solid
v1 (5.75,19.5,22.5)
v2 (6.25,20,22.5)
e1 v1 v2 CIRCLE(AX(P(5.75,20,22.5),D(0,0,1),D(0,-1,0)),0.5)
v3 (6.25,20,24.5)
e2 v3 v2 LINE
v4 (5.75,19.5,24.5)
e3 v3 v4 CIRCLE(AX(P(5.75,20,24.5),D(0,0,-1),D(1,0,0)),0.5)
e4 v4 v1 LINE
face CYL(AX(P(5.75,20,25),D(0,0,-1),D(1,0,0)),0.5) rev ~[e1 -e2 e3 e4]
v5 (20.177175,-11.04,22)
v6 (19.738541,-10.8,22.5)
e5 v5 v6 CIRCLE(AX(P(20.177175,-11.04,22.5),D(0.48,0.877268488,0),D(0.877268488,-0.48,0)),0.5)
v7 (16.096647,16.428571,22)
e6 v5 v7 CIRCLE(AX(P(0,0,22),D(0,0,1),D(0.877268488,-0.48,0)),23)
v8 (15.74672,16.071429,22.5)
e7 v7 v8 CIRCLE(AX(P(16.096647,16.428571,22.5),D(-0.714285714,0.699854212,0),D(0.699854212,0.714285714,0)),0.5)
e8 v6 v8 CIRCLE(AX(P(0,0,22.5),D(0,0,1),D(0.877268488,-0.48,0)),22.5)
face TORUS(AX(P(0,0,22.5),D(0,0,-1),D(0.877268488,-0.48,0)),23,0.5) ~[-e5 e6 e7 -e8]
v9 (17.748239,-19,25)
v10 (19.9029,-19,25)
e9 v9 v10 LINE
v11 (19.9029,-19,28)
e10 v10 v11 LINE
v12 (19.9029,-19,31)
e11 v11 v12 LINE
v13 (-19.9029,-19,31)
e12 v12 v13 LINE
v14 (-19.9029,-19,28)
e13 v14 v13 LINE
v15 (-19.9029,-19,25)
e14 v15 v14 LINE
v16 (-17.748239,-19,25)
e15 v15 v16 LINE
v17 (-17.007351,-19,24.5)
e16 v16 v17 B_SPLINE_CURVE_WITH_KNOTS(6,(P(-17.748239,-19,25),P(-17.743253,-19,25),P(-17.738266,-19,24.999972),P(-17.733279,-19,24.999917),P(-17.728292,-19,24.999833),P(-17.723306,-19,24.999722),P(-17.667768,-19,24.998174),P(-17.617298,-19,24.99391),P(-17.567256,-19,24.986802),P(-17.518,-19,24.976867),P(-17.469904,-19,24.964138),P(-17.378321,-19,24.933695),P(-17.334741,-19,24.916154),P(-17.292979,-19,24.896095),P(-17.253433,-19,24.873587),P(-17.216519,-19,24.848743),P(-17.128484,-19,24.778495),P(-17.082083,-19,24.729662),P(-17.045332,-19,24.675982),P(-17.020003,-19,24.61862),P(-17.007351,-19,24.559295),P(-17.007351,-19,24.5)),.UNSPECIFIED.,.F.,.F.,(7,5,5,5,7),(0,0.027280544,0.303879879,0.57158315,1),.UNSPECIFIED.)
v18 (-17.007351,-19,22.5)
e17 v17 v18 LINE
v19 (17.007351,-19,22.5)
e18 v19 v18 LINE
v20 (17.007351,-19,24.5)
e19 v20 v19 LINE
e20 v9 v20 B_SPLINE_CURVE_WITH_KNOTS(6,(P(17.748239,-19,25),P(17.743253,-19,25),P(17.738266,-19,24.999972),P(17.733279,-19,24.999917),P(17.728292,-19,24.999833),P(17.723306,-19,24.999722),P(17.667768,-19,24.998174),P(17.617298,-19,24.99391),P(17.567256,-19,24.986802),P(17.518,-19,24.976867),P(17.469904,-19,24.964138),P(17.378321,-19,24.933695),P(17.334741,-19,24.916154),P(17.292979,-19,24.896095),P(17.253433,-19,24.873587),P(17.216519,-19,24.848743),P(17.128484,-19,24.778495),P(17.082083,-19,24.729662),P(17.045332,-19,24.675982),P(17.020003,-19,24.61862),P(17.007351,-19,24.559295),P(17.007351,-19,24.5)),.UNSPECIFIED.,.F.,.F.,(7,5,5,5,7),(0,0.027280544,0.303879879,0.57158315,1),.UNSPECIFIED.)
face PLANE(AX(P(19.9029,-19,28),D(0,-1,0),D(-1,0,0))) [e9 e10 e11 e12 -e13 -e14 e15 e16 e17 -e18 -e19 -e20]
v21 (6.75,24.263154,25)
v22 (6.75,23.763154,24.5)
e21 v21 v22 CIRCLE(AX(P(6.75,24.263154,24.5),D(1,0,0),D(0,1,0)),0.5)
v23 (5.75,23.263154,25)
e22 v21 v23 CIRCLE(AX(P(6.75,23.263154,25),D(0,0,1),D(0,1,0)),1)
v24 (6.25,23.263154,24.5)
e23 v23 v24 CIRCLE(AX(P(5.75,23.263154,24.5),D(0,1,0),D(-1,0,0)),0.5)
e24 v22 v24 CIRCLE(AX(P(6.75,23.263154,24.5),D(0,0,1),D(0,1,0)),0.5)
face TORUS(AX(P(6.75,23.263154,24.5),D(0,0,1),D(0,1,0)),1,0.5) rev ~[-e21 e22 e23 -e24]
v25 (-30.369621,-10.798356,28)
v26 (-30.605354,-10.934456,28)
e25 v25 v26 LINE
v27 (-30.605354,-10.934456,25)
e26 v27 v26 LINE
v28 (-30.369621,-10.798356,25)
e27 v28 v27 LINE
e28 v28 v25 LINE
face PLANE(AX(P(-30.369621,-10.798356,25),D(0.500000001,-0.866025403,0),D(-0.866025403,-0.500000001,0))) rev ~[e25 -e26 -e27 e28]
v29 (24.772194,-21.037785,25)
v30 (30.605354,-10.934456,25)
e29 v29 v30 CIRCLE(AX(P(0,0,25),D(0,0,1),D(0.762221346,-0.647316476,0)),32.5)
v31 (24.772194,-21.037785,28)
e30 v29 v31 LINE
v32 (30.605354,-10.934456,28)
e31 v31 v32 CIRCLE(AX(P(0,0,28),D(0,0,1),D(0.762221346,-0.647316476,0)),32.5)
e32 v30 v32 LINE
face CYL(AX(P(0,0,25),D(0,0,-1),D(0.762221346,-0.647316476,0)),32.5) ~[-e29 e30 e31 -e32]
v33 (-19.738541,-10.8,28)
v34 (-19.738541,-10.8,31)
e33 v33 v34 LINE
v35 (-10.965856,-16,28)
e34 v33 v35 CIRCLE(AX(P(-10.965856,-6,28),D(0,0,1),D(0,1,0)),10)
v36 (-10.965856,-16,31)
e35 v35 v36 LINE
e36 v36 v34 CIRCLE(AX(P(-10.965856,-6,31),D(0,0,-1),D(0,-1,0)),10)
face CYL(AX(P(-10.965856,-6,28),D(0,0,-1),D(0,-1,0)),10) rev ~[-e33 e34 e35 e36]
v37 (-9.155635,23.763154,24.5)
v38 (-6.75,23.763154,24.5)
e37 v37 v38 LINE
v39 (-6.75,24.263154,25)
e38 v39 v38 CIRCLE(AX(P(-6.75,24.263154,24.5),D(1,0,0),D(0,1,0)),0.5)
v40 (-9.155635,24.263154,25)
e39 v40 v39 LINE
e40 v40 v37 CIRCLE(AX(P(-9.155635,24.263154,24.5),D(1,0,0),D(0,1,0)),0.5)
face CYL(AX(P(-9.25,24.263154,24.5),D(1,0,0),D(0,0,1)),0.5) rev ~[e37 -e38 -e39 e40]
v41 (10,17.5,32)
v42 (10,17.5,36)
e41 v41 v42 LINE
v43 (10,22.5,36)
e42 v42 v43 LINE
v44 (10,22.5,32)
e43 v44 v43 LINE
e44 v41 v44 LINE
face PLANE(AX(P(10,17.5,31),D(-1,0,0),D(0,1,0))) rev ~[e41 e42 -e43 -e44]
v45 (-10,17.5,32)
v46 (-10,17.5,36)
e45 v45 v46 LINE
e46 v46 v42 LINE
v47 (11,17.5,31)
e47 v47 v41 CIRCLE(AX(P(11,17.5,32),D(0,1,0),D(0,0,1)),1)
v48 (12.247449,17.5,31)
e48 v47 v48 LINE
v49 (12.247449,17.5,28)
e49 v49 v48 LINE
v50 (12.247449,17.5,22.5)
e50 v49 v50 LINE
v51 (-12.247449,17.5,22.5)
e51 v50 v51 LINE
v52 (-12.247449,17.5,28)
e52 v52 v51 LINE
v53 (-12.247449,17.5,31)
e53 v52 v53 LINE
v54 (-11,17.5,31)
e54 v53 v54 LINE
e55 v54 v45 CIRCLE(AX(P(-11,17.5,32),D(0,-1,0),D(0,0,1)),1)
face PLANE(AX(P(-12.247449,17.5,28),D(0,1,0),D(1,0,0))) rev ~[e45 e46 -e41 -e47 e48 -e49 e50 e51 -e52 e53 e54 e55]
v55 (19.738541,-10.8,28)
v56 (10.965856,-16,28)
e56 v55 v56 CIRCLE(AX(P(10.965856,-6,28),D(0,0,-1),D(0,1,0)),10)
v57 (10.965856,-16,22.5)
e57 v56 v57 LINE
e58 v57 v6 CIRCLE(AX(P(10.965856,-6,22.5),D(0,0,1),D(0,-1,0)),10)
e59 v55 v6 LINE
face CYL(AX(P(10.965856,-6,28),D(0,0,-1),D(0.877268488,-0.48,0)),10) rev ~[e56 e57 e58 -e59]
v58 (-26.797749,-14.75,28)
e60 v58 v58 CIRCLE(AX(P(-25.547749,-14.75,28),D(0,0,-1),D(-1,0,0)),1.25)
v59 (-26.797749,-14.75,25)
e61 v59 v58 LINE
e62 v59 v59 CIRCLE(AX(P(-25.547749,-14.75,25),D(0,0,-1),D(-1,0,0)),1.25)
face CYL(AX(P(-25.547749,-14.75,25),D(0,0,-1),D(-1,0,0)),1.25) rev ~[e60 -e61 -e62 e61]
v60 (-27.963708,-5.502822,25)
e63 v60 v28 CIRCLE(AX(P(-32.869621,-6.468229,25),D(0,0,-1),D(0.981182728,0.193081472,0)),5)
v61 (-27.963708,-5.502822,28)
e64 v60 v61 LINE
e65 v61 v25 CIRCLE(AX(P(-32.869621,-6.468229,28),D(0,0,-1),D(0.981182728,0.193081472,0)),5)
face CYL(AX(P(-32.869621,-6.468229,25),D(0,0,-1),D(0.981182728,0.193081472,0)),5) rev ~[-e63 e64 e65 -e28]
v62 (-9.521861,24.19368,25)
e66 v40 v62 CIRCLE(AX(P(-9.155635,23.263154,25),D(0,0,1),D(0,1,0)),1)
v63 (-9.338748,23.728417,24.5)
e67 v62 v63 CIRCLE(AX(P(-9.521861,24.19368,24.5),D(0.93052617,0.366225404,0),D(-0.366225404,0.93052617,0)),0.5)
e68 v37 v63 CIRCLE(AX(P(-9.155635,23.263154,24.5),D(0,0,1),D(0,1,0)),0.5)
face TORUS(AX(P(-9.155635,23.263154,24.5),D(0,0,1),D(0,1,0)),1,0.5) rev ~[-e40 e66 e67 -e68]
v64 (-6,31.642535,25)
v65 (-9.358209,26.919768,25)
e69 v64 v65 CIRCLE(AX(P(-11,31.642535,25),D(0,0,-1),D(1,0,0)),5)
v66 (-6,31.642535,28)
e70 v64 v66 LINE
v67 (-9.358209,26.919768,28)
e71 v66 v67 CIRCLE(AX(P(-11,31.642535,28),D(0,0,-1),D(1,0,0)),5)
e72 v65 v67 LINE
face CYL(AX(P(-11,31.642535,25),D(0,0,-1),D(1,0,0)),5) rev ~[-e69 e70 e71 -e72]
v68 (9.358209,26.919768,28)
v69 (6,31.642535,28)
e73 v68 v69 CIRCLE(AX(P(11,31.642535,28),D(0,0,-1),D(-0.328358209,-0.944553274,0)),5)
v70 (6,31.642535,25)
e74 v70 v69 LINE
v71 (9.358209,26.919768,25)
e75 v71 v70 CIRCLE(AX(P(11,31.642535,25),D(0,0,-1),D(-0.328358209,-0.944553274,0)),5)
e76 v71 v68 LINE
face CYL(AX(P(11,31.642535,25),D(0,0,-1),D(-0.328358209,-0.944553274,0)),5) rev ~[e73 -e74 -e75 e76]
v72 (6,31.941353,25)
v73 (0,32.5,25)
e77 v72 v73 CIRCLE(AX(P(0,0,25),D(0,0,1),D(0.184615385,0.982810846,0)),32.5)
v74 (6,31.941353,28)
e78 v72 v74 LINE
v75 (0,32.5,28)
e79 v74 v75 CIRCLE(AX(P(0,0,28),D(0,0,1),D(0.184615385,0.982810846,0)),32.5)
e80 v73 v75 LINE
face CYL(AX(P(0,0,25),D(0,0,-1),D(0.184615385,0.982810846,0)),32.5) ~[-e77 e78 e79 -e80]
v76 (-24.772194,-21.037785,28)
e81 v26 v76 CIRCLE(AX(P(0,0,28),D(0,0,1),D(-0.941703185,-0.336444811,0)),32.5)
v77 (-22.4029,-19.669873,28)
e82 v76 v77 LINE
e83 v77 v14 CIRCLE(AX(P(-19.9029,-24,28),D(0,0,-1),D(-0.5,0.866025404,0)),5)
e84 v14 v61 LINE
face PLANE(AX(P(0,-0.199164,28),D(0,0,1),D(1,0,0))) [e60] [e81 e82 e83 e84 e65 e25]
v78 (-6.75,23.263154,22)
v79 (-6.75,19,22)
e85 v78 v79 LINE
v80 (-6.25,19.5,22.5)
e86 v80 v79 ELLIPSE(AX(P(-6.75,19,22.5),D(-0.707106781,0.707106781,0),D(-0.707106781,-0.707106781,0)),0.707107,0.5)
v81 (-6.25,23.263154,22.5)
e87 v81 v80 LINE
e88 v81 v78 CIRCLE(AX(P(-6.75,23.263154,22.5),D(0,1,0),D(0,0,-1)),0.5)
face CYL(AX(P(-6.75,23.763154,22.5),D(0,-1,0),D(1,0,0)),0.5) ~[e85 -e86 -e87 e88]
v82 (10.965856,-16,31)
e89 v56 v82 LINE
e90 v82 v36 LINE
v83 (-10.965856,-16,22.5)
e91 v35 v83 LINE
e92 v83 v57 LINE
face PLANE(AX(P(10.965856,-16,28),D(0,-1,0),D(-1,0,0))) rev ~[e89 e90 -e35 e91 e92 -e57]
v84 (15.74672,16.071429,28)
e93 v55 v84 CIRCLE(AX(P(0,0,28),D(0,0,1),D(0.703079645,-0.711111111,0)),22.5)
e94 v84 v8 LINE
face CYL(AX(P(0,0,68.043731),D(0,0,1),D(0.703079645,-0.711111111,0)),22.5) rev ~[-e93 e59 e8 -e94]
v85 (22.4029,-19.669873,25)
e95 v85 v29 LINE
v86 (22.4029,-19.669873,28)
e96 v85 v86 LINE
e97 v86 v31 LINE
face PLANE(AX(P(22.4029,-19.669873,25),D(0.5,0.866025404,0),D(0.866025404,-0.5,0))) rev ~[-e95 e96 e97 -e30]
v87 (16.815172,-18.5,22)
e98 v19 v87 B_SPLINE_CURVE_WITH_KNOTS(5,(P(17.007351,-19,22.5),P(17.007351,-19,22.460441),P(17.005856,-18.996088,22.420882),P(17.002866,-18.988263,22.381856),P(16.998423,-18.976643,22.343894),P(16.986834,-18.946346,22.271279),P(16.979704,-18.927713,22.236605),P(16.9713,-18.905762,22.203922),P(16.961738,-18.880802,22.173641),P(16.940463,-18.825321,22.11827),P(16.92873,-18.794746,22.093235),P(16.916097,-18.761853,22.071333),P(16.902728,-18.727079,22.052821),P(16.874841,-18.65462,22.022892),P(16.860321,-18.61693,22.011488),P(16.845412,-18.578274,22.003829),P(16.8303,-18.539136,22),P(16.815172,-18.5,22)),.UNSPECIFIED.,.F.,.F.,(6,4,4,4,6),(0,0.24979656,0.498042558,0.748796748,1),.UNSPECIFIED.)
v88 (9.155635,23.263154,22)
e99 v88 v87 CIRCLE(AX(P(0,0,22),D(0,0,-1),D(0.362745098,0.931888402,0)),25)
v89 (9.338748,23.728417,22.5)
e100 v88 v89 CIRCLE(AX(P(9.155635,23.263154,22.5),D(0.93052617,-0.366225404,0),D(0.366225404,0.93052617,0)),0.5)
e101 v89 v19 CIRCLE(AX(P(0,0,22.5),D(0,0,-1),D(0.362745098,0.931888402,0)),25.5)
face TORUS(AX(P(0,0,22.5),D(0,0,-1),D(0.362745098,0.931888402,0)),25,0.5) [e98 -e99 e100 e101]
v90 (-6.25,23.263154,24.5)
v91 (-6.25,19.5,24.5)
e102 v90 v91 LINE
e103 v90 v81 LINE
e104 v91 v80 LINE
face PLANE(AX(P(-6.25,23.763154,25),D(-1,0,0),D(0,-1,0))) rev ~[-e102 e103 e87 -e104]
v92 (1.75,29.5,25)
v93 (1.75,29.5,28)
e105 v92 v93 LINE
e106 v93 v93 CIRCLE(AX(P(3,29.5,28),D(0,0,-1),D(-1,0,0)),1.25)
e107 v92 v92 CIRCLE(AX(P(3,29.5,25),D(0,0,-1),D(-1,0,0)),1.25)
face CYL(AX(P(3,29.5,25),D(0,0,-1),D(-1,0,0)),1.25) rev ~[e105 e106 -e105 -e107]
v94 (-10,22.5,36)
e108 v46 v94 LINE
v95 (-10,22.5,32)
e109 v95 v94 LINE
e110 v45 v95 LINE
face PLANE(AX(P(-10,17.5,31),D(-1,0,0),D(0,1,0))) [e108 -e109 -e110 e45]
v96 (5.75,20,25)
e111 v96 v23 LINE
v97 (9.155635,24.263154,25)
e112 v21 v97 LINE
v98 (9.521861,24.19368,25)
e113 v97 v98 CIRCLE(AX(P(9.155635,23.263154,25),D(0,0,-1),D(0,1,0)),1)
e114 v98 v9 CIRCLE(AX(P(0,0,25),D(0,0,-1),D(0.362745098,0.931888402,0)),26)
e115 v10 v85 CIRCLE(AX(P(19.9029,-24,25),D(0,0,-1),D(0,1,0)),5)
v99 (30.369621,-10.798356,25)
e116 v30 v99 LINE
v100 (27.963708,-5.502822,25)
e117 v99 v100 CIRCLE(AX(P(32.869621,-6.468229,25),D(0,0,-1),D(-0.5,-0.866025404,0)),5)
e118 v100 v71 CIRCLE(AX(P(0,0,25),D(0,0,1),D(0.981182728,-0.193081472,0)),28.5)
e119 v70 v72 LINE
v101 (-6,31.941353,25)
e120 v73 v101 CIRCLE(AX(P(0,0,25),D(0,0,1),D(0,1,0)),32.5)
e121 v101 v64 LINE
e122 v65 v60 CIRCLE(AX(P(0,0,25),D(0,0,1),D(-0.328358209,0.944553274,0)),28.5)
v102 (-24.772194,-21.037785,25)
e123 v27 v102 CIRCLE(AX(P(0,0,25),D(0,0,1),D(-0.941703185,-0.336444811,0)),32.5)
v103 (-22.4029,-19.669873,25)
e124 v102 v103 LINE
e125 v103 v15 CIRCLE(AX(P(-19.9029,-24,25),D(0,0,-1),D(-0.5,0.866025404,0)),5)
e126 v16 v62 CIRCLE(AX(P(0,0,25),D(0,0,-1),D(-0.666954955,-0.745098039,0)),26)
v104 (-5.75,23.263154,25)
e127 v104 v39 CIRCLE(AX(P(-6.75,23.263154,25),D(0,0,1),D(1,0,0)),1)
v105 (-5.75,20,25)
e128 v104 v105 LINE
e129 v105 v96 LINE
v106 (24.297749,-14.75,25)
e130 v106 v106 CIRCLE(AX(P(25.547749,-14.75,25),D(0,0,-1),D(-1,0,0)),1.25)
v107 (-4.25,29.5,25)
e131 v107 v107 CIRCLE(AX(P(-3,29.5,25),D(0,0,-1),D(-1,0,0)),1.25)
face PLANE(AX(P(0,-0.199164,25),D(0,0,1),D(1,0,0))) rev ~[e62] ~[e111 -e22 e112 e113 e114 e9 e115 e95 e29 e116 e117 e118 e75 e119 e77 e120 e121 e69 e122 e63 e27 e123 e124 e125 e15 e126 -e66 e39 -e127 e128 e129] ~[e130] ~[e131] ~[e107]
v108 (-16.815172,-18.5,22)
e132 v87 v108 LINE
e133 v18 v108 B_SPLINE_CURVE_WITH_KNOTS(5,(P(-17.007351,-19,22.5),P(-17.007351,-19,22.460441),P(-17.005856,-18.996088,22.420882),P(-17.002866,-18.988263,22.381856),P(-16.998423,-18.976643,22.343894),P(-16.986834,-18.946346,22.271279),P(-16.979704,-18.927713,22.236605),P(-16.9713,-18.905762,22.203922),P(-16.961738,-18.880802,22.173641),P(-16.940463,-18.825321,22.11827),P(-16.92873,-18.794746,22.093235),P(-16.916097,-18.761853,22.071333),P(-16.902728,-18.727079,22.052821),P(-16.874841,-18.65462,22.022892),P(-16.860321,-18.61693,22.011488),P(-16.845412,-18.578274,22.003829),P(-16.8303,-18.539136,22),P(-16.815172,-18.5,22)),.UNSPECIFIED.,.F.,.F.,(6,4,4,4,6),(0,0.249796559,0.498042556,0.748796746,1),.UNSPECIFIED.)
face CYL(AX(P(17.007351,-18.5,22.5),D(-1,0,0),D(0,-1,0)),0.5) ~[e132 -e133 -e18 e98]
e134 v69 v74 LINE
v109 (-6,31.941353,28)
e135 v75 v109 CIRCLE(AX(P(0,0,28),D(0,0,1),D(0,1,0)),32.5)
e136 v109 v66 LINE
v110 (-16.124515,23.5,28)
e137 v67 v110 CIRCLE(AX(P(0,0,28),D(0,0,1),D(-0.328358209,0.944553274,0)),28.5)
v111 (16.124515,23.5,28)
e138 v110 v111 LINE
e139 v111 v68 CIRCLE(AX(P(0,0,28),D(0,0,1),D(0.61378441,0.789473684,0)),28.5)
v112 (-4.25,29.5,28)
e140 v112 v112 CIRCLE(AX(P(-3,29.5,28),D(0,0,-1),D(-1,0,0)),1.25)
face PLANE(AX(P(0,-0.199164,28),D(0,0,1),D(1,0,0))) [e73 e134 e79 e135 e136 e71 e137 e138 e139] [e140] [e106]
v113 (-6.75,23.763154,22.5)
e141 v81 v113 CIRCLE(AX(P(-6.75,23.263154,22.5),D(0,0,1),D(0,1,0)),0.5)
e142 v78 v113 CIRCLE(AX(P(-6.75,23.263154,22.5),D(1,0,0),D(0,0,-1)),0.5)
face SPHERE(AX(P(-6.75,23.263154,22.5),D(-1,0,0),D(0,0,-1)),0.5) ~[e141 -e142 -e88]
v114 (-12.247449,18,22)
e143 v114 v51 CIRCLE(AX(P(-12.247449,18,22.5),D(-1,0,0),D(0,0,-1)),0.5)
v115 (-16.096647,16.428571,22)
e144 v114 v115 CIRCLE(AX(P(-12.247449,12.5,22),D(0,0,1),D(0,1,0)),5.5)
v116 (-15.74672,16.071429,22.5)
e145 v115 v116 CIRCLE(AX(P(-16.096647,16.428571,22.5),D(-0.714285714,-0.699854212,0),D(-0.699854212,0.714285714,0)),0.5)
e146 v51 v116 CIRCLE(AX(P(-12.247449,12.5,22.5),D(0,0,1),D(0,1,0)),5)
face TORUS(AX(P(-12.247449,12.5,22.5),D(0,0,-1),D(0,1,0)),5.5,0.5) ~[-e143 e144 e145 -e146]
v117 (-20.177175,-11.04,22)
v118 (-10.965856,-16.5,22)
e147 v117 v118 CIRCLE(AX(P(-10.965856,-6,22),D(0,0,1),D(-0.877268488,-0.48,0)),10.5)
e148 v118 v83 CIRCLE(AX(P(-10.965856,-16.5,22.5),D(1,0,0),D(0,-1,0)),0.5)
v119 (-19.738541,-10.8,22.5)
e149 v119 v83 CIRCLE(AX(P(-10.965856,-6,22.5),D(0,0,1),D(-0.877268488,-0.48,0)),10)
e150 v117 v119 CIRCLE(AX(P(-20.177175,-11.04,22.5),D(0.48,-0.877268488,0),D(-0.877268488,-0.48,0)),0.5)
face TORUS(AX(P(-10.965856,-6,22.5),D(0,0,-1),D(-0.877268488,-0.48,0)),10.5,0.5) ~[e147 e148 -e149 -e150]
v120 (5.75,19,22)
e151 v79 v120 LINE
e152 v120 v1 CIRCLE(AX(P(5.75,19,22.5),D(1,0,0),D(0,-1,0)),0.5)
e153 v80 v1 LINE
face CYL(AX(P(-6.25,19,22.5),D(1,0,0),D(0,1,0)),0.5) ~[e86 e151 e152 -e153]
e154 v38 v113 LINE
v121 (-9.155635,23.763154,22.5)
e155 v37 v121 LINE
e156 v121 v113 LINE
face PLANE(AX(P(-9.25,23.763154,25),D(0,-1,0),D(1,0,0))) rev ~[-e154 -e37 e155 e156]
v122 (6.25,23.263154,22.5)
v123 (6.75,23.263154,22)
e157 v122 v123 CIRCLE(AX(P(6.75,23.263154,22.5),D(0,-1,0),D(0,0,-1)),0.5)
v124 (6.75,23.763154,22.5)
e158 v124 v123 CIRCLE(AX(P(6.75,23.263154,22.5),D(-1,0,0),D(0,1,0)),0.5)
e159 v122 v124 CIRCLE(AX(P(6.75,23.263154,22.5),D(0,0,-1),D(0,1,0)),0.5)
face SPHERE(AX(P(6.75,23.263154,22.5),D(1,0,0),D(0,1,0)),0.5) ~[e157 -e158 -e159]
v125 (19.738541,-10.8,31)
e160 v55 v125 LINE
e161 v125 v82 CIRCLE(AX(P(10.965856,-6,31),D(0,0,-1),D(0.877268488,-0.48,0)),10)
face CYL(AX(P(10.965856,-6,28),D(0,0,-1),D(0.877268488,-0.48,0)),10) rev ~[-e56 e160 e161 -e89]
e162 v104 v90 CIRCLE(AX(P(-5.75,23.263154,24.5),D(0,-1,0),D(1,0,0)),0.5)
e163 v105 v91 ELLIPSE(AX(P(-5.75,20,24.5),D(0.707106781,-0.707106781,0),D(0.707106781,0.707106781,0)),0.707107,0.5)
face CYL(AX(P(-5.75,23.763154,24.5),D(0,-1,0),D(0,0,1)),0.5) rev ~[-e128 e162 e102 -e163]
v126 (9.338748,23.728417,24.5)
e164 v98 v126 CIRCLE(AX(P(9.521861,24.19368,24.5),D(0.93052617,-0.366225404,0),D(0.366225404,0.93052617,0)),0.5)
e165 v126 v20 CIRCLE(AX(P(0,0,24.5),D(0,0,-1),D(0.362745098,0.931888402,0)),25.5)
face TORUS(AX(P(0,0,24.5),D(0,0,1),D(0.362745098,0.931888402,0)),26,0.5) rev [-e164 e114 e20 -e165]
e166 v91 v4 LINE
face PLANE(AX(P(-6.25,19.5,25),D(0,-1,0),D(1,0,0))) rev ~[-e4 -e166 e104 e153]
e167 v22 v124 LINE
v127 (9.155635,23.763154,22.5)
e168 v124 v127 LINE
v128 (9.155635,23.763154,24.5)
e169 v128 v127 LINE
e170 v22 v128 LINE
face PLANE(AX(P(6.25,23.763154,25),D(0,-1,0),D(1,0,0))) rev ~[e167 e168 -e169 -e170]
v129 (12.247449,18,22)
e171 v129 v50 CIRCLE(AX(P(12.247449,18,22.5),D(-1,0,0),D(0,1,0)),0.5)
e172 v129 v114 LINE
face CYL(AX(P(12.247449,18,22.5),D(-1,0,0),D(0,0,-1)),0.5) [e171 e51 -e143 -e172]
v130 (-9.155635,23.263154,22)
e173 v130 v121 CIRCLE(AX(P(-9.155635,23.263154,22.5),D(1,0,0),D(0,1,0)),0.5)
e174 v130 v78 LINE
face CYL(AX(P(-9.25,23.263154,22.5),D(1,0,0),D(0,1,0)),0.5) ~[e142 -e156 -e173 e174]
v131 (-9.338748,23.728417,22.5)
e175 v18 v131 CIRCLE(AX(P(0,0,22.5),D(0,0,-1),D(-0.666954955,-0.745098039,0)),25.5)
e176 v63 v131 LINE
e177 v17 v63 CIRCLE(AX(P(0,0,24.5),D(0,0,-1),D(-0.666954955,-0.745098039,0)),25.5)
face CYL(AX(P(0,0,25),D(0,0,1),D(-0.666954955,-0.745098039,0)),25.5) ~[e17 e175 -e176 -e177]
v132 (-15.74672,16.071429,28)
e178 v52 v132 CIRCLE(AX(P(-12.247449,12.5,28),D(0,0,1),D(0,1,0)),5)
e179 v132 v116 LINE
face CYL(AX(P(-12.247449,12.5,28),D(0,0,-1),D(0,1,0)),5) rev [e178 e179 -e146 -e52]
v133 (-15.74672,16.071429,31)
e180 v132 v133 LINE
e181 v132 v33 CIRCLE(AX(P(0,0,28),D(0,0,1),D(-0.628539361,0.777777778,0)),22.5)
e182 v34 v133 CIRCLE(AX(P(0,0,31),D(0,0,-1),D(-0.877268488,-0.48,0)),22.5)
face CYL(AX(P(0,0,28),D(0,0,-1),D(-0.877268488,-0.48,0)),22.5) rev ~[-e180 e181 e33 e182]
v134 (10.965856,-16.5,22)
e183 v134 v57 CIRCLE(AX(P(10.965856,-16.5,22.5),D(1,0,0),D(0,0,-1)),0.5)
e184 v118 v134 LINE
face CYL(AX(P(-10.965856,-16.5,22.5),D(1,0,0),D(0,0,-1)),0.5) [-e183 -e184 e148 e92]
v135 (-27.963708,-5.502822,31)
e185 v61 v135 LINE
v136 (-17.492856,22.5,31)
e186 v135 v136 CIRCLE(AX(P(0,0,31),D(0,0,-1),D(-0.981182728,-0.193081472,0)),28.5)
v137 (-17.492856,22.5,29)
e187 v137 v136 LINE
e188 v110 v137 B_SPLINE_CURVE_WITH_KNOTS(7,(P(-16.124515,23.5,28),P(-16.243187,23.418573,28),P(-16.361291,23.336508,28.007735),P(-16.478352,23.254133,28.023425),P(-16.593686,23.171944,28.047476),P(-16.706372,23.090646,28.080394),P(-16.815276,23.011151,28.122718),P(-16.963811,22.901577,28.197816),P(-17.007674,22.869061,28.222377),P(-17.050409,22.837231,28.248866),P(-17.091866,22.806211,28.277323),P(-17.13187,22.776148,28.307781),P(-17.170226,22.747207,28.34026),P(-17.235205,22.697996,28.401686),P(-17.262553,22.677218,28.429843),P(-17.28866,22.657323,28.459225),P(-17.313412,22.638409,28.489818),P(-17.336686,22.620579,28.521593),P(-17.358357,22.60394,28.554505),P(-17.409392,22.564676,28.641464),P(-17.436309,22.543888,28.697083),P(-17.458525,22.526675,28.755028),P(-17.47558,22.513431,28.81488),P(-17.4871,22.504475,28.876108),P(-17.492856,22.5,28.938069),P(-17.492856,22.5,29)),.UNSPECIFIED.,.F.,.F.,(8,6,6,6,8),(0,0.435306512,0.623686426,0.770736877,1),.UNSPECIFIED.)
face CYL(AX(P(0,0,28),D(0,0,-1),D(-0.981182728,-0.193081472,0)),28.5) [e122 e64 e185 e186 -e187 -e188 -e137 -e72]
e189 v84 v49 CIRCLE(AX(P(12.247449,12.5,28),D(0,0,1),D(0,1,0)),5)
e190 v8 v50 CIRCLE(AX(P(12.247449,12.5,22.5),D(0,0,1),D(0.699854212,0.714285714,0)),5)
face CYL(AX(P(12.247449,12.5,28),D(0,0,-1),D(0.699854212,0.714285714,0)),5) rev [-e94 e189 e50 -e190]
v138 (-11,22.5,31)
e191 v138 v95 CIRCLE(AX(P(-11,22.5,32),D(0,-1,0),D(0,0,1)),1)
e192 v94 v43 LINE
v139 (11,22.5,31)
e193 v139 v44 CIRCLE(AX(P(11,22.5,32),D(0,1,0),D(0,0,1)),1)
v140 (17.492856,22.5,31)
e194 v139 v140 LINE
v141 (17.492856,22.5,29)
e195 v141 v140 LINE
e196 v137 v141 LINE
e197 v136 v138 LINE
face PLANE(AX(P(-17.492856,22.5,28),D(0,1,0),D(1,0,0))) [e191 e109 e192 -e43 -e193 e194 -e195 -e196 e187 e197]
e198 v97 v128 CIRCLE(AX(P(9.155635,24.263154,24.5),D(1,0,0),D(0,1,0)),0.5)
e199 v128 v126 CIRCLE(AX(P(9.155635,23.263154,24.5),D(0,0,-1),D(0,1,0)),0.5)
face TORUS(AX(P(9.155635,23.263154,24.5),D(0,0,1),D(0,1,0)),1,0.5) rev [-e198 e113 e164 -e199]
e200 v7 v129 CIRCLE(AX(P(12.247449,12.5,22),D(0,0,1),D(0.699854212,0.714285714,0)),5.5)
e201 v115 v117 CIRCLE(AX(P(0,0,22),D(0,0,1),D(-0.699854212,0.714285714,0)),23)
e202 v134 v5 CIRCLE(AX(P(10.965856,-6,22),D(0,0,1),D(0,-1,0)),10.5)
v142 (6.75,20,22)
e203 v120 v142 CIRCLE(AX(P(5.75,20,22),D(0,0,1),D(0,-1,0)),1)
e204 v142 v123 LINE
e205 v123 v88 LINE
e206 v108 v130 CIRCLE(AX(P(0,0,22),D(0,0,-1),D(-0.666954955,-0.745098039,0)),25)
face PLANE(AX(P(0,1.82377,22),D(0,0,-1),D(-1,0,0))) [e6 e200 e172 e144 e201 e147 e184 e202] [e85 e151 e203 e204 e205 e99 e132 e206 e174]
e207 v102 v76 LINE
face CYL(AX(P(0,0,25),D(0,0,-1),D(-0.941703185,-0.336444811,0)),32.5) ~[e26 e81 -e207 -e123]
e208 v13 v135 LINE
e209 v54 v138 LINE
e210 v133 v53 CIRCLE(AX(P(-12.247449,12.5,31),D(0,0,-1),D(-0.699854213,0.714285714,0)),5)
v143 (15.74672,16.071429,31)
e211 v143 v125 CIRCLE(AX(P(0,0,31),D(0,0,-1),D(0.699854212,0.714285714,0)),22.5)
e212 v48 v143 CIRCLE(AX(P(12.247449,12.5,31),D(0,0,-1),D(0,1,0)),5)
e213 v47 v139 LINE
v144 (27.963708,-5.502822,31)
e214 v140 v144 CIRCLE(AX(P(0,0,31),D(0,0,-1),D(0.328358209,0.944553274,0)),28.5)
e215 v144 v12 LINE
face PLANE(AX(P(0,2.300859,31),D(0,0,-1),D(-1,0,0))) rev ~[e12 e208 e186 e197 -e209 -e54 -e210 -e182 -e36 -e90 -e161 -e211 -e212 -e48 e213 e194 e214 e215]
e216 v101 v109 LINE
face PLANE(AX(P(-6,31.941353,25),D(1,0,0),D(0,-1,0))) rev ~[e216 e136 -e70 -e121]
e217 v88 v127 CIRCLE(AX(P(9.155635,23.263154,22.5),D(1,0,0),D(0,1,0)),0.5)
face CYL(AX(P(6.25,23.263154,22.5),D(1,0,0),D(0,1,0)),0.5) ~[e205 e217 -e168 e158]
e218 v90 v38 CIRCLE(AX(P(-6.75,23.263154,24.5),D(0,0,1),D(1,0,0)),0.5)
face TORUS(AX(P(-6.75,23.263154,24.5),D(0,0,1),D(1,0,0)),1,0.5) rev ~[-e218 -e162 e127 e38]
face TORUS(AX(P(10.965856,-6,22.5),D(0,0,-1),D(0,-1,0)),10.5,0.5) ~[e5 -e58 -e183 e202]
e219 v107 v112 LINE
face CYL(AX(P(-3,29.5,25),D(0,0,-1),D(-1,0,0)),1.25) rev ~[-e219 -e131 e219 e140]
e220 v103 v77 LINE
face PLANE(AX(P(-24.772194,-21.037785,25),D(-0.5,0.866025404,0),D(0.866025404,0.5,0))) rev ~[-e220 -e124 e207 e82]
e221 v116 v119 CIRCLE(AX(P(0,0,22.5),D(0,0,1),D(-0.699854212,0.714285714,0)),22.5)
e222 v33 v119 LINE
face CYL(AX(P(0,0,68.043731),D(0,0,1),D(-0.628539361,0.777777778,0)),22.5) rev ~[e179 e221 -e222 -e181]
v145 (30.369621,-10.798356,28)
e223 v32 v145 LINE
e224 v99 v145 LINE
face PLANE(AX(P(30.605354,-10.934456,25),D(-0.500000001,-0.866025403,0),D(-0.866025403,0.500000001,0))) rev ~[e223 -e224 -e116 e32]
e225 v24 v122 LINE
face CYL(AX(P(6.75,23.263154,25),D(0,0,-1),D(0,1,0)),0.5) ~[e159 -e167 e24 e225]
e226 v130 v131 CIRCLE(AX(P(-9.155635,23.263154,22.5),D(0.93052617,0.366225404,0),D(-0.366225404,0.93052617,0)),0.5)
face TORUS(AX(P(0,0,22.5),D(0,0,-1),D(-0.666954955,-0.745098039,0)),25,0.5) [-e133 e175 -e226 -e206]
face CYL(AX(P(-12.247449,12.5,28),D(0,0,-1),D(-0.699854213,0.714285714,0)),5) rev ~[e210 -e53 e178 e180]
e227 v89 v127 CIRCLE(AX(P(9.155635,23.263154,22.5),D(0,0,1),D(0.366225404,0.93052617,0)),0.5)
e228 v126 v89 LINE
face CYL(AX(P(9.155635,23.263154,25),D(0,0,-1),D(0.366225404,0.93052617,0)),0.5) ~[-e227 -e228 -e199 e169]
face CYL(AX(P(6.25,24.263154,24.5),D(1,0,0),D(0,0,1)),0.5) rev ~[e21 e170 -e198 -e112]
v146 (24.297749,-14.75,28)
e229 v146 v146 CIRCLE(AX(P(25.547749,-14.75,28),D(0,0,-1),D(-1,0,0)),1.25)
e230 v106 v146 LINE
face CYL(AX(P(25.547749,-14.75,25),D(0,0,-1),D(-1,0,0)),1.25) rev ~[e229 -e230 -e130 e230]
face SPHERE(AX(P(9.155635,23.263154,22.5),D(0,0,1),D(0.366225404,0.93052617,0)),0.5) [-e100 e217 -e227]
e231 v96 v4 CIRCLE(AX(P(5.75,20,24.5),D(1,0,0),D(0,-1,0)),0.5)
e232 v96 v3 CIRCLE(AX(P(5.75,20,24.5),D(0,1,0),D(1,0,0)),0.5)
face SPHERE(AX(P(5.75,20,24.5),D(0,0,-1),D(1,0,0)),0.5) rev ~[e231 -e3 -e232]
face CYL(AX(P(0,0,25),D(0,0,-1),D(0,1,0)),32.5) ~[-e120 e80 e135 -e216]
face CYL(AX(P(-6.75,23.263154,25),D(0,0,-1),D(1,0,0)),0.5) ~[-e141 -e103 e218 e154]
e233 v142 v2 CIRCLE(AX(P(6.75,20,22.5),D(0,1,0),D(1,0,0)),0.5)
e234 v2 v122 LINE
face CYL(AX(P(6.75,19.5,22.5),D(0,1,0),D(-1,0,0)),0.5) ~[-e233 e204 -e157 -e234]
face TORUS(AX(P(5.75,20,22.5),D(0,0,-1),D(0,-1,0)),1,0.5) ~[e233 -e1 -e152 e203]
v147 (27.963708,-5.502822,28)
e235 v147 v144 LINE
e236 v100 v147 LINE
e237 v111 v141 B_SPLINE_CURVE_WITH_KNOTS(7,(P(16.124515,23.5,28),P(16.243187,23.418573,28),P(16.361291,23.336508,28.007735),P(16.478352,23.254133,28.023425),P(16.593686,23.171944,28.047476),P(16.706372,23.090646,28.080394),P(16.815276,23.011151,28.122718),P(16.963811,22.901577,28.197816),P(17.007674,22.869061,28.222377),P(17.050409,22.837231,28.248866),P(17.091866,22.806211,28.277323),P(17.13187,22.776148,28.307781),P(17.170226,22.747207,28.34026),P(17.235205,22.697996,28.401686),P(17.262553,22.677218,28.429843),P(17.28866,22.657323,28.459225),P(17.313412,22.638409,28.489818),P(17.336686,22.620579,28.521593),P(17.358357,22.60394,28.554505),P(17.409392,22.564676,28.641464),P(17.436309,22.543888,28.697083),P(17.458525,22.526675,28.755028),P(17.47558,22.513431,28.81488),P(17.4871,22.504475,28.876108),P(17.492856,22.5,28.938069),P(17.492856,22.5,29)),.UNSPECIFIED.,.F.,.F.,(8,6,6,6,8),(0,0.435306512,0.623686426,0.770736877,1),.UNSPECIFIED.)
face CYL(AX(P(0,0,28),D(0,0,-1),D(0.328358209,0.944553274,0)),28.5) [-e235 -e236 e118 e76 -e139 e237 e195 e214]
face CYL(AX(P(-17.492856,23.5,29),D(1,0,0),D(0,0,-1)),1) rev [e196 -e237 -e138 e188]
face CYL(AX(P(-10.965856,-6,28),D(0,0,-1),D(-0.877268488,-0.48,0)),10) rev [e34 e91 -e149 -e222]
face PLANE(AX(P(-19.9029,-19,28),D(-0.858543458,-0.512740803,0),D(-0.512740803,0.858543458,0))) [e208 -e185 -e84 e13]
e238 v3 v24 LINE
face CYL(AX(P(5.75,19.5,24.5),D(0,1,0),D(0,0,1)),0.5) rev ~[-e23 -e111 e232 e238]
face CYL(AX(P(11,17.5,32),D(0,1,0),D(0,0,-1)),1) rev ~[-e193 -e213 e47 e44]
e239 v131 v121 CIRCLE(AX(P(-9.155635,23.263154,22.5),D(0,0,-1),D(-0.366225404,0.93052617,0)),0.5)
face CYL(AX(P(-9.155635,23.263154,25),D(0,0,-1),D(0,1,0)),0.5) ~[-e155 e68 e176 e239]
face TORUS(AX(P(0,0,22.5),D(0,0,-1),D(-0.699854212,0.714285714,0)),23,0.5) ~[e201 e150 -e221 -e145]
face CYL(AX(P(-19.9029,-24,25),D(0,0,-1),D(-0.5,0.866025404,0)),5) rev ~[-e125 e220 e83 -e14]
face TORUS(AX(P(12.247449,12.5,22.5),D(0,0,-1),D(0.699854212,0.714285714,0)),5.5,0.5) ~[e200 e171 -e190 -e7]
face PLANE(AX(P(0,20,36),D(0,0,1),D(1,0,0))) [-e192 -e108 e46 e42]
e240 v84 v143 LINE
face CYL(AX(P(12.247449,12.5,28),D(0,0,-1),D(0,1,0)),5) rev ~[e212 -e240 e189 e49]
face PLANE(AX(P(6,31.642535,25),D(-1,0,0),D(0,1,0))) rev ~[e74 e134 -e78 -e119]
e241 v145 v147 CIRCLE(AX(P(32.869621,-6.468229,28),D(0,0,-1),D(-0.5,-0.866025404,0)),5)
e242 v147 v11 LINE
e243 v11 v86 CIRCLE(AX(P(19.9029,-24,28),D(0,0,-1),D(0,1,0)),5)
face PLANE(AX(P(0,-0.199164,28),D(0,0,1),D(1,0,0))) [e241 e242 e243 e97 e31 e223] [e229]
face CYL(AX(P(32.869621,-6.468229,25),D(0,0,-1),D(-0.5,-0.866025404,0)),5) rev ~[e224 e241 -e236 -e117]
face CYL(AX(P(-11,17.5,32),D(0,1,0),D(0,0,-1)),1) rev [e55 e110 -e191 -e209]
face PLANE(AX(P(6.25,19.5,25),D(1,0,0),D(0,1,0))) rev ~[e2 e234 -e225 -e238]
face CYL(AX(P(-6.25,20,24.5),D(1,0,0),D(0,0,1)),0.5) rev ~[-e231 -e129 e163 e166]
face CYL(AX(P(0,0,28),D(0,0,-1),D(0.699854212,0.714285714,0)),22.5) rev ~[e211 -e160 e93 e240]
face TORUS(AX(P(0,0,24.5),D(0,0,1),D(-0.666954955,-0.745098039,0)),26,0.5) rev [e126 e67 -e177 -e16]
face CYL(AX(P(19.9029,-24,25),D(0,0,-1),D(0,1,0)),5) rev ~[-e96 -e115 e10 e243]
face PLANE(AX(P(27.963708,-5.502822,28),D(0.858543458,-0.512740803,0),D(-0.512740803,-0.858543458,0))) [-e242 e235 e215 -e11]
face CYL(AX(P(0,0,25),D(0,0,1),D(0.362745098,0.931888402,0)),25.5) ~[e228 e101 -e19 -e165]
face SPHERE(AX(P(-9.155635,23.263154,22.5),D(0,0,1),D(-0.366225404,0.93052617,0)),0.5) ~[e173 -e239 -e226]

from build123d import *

# Parameters (mm, degrees)
BASE_EXTRUDE_DEPTH                             = 3
BASE_START                                     = -3
BASE_CENTER_FILL_DEPTH                         = 3
HYDRA_CRADDLE_INSERT_DEPTH                     = 3
WEIGHT_RELIEF_DEPTH                            = 46.043730576
WEIGHT_RELIEF_DEPTH_BACK                       = 46.043730576
SKETCH6_R                                      = 1.25
SCREWHOLES_TO_HYDRA_CRADDLE_DEPTH              = 10
FILLET1_R                                      = 10
FILLET2_R                                      = 5
SPACER_BETWEEN_HYDRA_STACK_AND_E_MATCH_C_DEPTH = 3
EMATCH_WIRE_CLEARANCE_CUT_DEPTH                = 46.540505752
EMATCH_WIRE_CLEARANCE_CUT_DEPTH_BACK           = 3
SKETCH9_W                                      = 20
SKETCH9_H                                      = 5
ALIGNMENT_PEG_WITH_BLAST_SHIELD_DEPTH          = 5
FILLET3_R                                      = 1
FILLET4_R                                      = 0.5


with BuildPart() as part:
    # Sketch1 → BASE EXTRUDE (new body)
    with BuildSketch(Plane.XY.offset(25)):
        with BuildLine():
            Line((0, 19.861263432), (6, 19.861263432))
            Line((6, 19.861263432), (6, 24))
            ThreePointArc((6, 24), (6.4, 24.8), (7.28, 24.96))
            ThreePointArc((7.28, 24.96), (25.292757683, 6.022990019), (17.748239349, -19))
            Line((17.748239349, -19), (19.902899824, -19))
            ThreePointArc((19.902899824, -19), (21.19699505, -19.170370869), (22.402899824, -19.669872981))
            Line((22.402899824, -19.669872981), (24.772193743, -21.037785463))
            ThreePointArc((24.772193743, -21.037785463), (28.145825623, -16.25), (30.605353521, -10.934456357))
            Line((30.605353521, -10.934456357), (30.369621377, -10.79835634))
            ThreePointArc((30.369621377, -10.79835634), (28.317417482, -8.536426532), (27.963707738, -5.50282196))
            ThreePointArc((27.963707738, -5.50282196), (24.719171834, 14.184940742), (9.358208955, 26.919768297))
            ThreePointArc((9.358208955, 26.919768297), (6.925140786, 28.74503188), (6, 31.642534665))
            Line((6, 31.642534665), (6, 31.941352507))
            ThreePointArc((6, 31.941352507), (3.012975565, 32.360036747), (0, 32.5))
            ThreePointArc((0, 32.5), (-3.012975565, 32.360036747), (-6, 31.941352507))
            Line((-6, 31.941352507), (-6, 31.642534665))
            ThreePointArc((-6, 31.642534665), (-6.925140786, 28.74503188), (-9.358208955, 26.919768297))
            ThreePointArc((-9.358208955, 26.919768297), (-24.719171834, 14.184940742), (-27.963707738, -5.50282196))
            ThreePointArc((-27.963707738, -5.50282196), (-28.317417482, -8.536426532), (-30.369621377, -10.79835634))
            Line((-30.369621377, -10.79835634), (-30.605353521, -10.934456357))
            ThreePointArc((-30.605353521, -10.934456357), (-28.145825623, -16.25), (-24.772193743, -21.037785463))
            Line((-24.772193743, -21.037785463), (-22.402899824, -19.669872981))
            ThreePointArc((-22.402899824, -19.669872981), (-21.19699505, -19.170370869), (-19.902899824, -19))
            Line((-19.902899824, -19), (-17.748239349, -19))
            ThreePointArc((-17.748239349, -19), (-25.292757683, 6.022990019), (-7.28, 24.96))
            ThreePointArc((-7.28, 24.96), (-6.4, 24.8), (-6, 24))
            Line((-6, 24), (-6, 19.861263432))
            Line((-6, 19.861263432), (0, 19.861263432))
        make_face()
    extrude(amount=BASE_EXTRUDE_DEPTH)

    # Sketch3 → BASE CENTER FILL (add)
    with BuildSketch(Plane.XY.offset(28).offset(BASE_START)):
        with BuildLine():
            Line((-17.748239349, -19), (17.748239349, -19))
            ThreePointArc((17.748239349, -19), (0, 26), (-17.748239349, -19))
        make_face()
    extrude(amount=BASE_CENTER_FILL_DEPTH)

    # Sketch4 → HYDRA CRADDLE INSERT (add)
    with BuildSketch(Plane(origin=(0, 0, 25), x_dir=(-1, 0, 0), z_dir=(0, 0, -1))):
        with BuildLine():
            Line((-6.25, 23.763154252), (-9.25, 23.763154252))
            ThreePointArc((-9.25, 23.763154252), (-25.090515447, 4.551487076), (-17.007351352, -19))
            Line((-17.007351352, -19), (17.007351352, -19))
            ThreePointArc((17.007351352, -19), (25.090515447, 4.551487076), (9.25, 23.763154252))
            Line((9.25, 23.763154252), (6.25, 23.763154252))
            Line((6.25, 23.763154252), (6.25, 19.5))
            Line((6.25, 19.5), (-6.25, 19.5))
            Line((-6.25, 19.5), (-6.25, 23.763154252))
        make_face()
    extrude(amount=HYDRA_CRADDLE_INSERT_DEPTH)

    # Sketch5 → WEIGHT RELIEF (cut, two sides: drawn at the far end of the back side and taken through both)
    with BuildSketch(Plane(origin=(0, 0, 22), x_dir=(-1, 0, 0), z_dir=(0, 0, -1)).offset(-WEIGHT_RELIEF_DEPTH_BACK)):
        with BuildLine():
            Line((-14.142135624, 17.5), (14.142135624, 17.5))
            ThreePointArc((14.142135624, 17.5), (22.471855433, 1.125039286), (15.81929202, -16))
            Line((15.81929202, -16), (-15.81929202, -16))
            ThreePointArc((-15.81929202, -16), (-22.471855433, 1.125039286), (-14.142135624, 17.5))
        make_face()
    extrude(amount=WEIGHT_RELIEF_DEPTH + WEIGHT_RELIEF_DEPTH_BACK, mode=Mode.SUBTRACT)

    # Sketch6 → SCREWHOLES TO HYDRA CRADDLE (cut)
    with BuildSketch(Plane(origin=(0, 0, 25), x_dir=(-1, 0, 0), z_dir=(0, 0, -1))):
        with Locations((-25.547749412, -14.75)):
            Circle(SKETCH6_R)
        with Locations((25.547749412, -14.75)):
            Circle(SKETCH6_R)
        with Locations((-3, 29.5)):
            Circle(SKETCH6_R)
        with Locations((3, 29.5)):
            Circle(SKETCH6_R)
    extrude(amount=-SCREWHOLES_TO_HYDRA_CRADDLE_DEPTH, mode=Mode.SUBTRACT)

    # Fillet1
    fillet1_edges = [part.edges().sort_by_distance(p)[0] for p in [
        (15.81929202, -16, 25),
        (-15.81929202, -16, 25),
    ]]
    fillet(fillet1_edges, radius=FILLET1_R)

    # Fillet2
    fillet2_edges = [part.edges().sort_by_distance(p)[0] for p in [
        (14.142135624, 17.5, 25),
        (-14.142135624, 17.5, 25),
    ]]
    fillet(fillet2_edges, radius=FILLET2_R)

    # Sketch7 → SPACER BETWEEN HYDRA STACK AND E-MATCH CRADDLES (add)
    with BuildSketch(Plane.XY.offset(28)):
        with BuildLine():
            Line((-9.358208955, 26.919768297), (9.358208955, 26.919768297))
            ThreePointArc((9.358208955, 26.919768297), (24.719171834, 14.184940742), (27.963707738, -5.50282196))
            Line((27.963707738, -5.50282196), (19.902899824, -19))
            Line((19.902899824, -19), (-19.902899824, -19))
            Line((-19.902899824, -19), (-27.963707738, -5.50282196))
            ThreePointArc((-27.963707738, -5.50282196), (-24.719171834, 14.184940742), (-9.358208955, 26.919768297))
        make_face()
        with BuildLine():
            Line((10.9658561, -16), (-10.9658561, -16))
            ThreePointArc((-10.9658561, -16), (-16.064875613, -14.602325267), (-19.73854098, -10.8))
            ThreePointArc((-19.73854098, -10.8), (-22.255771186, 3.306153192), (-15.746719775, 16.071428571))
            ThreePointArc((-15.746719775, 16.071428571), (-14.137271079, 17.129100499), (-12.247448714, 17.5))
            Line((-12.247448714, 17.5), (12.247448714, 17.5))
            ThreePointArc((12.247448714, 17.5), (14.137271079, 17.129100499), (15.746719775, 16.071428571))
            ThreePointArc((15.746719775, 16.071428571), (22.255771186, 3.306153192), (19.73854098, -10.8))
            ThreePointArc((19.73854098, -10.8), (16.064875613, -14.602325267), (10.9658561, -16))
        make_face(mode=Mode.SUBTRACT)
    extrude(amount=SPACER_BETWEEN_HYDRA_STACK_AND_E_MATCH_C_DEPTH)

    # Sketch8 → EMATCH WIRE CLEARANCE CUT (cut, two sides: drawn at the far end of the back side and taken through both)
    with BuildSketch(Plane.XY.offset(31).offset(-EMATCH_WIRE_CLEARANCE_CUT_DEPTH_BACK)):
        with BuildLine():
            Line((-17.492855685, 22.5), (17.492855685, 22.5))
            ThreePointArc((17.492855685, 22.5), (13.606193664, 25.042393935), (9.358208955, 26.919768297))
            Line((9.358208955, 26.919768297), (-9.358208955, 26.919768297))
            ThreePointArc((-9.358208955, 26.919768297), (-13.606193664, 25.042393935), (-17.492855685, 22.5))
        make_face()
    extrude(amount=EMATCH_WIRE_CLEARANCE_CUT_DEPTH + EMATCH_WIRE_CLEARANCE_CUT_DEPTH_BACK, mode=Mode.SUBTRACT)

    # Sketch9 → ALIGNMENT PEG WITH BLAST SHIELD (add)
    with BuildSketch(Plane.XY.offset(31)):
        with Locations((0, 20)):
            Rectangle(SKETCH9_W, SKETCH9_H)
    extrude(amount=ALIGNMENT_PEG_WITH_BLAST_SHIELD_DEPTH)

    # Fillet3
    fillet3_edges = [part.edges().sort_by_distance(p)[0] for p in [
        (0, 22.5, 28),
        (-10, 20, 31),
        (10, 20, 31),
    ]]
    fillet(fillet3_edges, radius=FILLET3_R)

    # Fillet4
    fillet4_edges = [part.edges().sort_by_distance(p)[0] for p in [
        (7.75, 23.763154252, 22),
        (6.25, 23.763154252, 23.5),
        (25.090515447, 4.551487076, 25),
        (9.25, 23.763154252, 23.5),
        (-25.090515447, 4.551487076, 25),
        (-7.75, 23.763154252, 22),
        (-9.25, 23.763154252, 23.5),
        (-6.25, 21.631577126, 22),
        (-6.25, 23.763154252, 23.5),
        (0, 19.5, 22),
        (6.25, 21.631577126, 22),
        (6.25, 19.5, 23.5),
        (25.090515447, 4.551487076, 22),
        (0, -19, 22),
        (-25.090515447, 4.551487076, 22),
        (7.75, 23.763154252, 25),
        (6.25, 21.631577126, 25),
        (0, 19.5, 25),
        (-6.25, 21.631577126, 25),
        (-7.75, 23.763154252, 25),
        (-22.255771186, 3.306153192, 22),
        (0, -16, 22),
        (-16.064875613, -14.602325267, 22),
        (16.064875613, -14.602325267, 22),
        (0, 17.5, 22),
        (22.255771186, 3.306153192, 22),
        (-14.137271079, 17.129100499, 22),
        (14.137271079, 17.129100499, 22),
    ]]
    fillet(fillet4_edges, radius=FILLET4_R)


solid = part.part
